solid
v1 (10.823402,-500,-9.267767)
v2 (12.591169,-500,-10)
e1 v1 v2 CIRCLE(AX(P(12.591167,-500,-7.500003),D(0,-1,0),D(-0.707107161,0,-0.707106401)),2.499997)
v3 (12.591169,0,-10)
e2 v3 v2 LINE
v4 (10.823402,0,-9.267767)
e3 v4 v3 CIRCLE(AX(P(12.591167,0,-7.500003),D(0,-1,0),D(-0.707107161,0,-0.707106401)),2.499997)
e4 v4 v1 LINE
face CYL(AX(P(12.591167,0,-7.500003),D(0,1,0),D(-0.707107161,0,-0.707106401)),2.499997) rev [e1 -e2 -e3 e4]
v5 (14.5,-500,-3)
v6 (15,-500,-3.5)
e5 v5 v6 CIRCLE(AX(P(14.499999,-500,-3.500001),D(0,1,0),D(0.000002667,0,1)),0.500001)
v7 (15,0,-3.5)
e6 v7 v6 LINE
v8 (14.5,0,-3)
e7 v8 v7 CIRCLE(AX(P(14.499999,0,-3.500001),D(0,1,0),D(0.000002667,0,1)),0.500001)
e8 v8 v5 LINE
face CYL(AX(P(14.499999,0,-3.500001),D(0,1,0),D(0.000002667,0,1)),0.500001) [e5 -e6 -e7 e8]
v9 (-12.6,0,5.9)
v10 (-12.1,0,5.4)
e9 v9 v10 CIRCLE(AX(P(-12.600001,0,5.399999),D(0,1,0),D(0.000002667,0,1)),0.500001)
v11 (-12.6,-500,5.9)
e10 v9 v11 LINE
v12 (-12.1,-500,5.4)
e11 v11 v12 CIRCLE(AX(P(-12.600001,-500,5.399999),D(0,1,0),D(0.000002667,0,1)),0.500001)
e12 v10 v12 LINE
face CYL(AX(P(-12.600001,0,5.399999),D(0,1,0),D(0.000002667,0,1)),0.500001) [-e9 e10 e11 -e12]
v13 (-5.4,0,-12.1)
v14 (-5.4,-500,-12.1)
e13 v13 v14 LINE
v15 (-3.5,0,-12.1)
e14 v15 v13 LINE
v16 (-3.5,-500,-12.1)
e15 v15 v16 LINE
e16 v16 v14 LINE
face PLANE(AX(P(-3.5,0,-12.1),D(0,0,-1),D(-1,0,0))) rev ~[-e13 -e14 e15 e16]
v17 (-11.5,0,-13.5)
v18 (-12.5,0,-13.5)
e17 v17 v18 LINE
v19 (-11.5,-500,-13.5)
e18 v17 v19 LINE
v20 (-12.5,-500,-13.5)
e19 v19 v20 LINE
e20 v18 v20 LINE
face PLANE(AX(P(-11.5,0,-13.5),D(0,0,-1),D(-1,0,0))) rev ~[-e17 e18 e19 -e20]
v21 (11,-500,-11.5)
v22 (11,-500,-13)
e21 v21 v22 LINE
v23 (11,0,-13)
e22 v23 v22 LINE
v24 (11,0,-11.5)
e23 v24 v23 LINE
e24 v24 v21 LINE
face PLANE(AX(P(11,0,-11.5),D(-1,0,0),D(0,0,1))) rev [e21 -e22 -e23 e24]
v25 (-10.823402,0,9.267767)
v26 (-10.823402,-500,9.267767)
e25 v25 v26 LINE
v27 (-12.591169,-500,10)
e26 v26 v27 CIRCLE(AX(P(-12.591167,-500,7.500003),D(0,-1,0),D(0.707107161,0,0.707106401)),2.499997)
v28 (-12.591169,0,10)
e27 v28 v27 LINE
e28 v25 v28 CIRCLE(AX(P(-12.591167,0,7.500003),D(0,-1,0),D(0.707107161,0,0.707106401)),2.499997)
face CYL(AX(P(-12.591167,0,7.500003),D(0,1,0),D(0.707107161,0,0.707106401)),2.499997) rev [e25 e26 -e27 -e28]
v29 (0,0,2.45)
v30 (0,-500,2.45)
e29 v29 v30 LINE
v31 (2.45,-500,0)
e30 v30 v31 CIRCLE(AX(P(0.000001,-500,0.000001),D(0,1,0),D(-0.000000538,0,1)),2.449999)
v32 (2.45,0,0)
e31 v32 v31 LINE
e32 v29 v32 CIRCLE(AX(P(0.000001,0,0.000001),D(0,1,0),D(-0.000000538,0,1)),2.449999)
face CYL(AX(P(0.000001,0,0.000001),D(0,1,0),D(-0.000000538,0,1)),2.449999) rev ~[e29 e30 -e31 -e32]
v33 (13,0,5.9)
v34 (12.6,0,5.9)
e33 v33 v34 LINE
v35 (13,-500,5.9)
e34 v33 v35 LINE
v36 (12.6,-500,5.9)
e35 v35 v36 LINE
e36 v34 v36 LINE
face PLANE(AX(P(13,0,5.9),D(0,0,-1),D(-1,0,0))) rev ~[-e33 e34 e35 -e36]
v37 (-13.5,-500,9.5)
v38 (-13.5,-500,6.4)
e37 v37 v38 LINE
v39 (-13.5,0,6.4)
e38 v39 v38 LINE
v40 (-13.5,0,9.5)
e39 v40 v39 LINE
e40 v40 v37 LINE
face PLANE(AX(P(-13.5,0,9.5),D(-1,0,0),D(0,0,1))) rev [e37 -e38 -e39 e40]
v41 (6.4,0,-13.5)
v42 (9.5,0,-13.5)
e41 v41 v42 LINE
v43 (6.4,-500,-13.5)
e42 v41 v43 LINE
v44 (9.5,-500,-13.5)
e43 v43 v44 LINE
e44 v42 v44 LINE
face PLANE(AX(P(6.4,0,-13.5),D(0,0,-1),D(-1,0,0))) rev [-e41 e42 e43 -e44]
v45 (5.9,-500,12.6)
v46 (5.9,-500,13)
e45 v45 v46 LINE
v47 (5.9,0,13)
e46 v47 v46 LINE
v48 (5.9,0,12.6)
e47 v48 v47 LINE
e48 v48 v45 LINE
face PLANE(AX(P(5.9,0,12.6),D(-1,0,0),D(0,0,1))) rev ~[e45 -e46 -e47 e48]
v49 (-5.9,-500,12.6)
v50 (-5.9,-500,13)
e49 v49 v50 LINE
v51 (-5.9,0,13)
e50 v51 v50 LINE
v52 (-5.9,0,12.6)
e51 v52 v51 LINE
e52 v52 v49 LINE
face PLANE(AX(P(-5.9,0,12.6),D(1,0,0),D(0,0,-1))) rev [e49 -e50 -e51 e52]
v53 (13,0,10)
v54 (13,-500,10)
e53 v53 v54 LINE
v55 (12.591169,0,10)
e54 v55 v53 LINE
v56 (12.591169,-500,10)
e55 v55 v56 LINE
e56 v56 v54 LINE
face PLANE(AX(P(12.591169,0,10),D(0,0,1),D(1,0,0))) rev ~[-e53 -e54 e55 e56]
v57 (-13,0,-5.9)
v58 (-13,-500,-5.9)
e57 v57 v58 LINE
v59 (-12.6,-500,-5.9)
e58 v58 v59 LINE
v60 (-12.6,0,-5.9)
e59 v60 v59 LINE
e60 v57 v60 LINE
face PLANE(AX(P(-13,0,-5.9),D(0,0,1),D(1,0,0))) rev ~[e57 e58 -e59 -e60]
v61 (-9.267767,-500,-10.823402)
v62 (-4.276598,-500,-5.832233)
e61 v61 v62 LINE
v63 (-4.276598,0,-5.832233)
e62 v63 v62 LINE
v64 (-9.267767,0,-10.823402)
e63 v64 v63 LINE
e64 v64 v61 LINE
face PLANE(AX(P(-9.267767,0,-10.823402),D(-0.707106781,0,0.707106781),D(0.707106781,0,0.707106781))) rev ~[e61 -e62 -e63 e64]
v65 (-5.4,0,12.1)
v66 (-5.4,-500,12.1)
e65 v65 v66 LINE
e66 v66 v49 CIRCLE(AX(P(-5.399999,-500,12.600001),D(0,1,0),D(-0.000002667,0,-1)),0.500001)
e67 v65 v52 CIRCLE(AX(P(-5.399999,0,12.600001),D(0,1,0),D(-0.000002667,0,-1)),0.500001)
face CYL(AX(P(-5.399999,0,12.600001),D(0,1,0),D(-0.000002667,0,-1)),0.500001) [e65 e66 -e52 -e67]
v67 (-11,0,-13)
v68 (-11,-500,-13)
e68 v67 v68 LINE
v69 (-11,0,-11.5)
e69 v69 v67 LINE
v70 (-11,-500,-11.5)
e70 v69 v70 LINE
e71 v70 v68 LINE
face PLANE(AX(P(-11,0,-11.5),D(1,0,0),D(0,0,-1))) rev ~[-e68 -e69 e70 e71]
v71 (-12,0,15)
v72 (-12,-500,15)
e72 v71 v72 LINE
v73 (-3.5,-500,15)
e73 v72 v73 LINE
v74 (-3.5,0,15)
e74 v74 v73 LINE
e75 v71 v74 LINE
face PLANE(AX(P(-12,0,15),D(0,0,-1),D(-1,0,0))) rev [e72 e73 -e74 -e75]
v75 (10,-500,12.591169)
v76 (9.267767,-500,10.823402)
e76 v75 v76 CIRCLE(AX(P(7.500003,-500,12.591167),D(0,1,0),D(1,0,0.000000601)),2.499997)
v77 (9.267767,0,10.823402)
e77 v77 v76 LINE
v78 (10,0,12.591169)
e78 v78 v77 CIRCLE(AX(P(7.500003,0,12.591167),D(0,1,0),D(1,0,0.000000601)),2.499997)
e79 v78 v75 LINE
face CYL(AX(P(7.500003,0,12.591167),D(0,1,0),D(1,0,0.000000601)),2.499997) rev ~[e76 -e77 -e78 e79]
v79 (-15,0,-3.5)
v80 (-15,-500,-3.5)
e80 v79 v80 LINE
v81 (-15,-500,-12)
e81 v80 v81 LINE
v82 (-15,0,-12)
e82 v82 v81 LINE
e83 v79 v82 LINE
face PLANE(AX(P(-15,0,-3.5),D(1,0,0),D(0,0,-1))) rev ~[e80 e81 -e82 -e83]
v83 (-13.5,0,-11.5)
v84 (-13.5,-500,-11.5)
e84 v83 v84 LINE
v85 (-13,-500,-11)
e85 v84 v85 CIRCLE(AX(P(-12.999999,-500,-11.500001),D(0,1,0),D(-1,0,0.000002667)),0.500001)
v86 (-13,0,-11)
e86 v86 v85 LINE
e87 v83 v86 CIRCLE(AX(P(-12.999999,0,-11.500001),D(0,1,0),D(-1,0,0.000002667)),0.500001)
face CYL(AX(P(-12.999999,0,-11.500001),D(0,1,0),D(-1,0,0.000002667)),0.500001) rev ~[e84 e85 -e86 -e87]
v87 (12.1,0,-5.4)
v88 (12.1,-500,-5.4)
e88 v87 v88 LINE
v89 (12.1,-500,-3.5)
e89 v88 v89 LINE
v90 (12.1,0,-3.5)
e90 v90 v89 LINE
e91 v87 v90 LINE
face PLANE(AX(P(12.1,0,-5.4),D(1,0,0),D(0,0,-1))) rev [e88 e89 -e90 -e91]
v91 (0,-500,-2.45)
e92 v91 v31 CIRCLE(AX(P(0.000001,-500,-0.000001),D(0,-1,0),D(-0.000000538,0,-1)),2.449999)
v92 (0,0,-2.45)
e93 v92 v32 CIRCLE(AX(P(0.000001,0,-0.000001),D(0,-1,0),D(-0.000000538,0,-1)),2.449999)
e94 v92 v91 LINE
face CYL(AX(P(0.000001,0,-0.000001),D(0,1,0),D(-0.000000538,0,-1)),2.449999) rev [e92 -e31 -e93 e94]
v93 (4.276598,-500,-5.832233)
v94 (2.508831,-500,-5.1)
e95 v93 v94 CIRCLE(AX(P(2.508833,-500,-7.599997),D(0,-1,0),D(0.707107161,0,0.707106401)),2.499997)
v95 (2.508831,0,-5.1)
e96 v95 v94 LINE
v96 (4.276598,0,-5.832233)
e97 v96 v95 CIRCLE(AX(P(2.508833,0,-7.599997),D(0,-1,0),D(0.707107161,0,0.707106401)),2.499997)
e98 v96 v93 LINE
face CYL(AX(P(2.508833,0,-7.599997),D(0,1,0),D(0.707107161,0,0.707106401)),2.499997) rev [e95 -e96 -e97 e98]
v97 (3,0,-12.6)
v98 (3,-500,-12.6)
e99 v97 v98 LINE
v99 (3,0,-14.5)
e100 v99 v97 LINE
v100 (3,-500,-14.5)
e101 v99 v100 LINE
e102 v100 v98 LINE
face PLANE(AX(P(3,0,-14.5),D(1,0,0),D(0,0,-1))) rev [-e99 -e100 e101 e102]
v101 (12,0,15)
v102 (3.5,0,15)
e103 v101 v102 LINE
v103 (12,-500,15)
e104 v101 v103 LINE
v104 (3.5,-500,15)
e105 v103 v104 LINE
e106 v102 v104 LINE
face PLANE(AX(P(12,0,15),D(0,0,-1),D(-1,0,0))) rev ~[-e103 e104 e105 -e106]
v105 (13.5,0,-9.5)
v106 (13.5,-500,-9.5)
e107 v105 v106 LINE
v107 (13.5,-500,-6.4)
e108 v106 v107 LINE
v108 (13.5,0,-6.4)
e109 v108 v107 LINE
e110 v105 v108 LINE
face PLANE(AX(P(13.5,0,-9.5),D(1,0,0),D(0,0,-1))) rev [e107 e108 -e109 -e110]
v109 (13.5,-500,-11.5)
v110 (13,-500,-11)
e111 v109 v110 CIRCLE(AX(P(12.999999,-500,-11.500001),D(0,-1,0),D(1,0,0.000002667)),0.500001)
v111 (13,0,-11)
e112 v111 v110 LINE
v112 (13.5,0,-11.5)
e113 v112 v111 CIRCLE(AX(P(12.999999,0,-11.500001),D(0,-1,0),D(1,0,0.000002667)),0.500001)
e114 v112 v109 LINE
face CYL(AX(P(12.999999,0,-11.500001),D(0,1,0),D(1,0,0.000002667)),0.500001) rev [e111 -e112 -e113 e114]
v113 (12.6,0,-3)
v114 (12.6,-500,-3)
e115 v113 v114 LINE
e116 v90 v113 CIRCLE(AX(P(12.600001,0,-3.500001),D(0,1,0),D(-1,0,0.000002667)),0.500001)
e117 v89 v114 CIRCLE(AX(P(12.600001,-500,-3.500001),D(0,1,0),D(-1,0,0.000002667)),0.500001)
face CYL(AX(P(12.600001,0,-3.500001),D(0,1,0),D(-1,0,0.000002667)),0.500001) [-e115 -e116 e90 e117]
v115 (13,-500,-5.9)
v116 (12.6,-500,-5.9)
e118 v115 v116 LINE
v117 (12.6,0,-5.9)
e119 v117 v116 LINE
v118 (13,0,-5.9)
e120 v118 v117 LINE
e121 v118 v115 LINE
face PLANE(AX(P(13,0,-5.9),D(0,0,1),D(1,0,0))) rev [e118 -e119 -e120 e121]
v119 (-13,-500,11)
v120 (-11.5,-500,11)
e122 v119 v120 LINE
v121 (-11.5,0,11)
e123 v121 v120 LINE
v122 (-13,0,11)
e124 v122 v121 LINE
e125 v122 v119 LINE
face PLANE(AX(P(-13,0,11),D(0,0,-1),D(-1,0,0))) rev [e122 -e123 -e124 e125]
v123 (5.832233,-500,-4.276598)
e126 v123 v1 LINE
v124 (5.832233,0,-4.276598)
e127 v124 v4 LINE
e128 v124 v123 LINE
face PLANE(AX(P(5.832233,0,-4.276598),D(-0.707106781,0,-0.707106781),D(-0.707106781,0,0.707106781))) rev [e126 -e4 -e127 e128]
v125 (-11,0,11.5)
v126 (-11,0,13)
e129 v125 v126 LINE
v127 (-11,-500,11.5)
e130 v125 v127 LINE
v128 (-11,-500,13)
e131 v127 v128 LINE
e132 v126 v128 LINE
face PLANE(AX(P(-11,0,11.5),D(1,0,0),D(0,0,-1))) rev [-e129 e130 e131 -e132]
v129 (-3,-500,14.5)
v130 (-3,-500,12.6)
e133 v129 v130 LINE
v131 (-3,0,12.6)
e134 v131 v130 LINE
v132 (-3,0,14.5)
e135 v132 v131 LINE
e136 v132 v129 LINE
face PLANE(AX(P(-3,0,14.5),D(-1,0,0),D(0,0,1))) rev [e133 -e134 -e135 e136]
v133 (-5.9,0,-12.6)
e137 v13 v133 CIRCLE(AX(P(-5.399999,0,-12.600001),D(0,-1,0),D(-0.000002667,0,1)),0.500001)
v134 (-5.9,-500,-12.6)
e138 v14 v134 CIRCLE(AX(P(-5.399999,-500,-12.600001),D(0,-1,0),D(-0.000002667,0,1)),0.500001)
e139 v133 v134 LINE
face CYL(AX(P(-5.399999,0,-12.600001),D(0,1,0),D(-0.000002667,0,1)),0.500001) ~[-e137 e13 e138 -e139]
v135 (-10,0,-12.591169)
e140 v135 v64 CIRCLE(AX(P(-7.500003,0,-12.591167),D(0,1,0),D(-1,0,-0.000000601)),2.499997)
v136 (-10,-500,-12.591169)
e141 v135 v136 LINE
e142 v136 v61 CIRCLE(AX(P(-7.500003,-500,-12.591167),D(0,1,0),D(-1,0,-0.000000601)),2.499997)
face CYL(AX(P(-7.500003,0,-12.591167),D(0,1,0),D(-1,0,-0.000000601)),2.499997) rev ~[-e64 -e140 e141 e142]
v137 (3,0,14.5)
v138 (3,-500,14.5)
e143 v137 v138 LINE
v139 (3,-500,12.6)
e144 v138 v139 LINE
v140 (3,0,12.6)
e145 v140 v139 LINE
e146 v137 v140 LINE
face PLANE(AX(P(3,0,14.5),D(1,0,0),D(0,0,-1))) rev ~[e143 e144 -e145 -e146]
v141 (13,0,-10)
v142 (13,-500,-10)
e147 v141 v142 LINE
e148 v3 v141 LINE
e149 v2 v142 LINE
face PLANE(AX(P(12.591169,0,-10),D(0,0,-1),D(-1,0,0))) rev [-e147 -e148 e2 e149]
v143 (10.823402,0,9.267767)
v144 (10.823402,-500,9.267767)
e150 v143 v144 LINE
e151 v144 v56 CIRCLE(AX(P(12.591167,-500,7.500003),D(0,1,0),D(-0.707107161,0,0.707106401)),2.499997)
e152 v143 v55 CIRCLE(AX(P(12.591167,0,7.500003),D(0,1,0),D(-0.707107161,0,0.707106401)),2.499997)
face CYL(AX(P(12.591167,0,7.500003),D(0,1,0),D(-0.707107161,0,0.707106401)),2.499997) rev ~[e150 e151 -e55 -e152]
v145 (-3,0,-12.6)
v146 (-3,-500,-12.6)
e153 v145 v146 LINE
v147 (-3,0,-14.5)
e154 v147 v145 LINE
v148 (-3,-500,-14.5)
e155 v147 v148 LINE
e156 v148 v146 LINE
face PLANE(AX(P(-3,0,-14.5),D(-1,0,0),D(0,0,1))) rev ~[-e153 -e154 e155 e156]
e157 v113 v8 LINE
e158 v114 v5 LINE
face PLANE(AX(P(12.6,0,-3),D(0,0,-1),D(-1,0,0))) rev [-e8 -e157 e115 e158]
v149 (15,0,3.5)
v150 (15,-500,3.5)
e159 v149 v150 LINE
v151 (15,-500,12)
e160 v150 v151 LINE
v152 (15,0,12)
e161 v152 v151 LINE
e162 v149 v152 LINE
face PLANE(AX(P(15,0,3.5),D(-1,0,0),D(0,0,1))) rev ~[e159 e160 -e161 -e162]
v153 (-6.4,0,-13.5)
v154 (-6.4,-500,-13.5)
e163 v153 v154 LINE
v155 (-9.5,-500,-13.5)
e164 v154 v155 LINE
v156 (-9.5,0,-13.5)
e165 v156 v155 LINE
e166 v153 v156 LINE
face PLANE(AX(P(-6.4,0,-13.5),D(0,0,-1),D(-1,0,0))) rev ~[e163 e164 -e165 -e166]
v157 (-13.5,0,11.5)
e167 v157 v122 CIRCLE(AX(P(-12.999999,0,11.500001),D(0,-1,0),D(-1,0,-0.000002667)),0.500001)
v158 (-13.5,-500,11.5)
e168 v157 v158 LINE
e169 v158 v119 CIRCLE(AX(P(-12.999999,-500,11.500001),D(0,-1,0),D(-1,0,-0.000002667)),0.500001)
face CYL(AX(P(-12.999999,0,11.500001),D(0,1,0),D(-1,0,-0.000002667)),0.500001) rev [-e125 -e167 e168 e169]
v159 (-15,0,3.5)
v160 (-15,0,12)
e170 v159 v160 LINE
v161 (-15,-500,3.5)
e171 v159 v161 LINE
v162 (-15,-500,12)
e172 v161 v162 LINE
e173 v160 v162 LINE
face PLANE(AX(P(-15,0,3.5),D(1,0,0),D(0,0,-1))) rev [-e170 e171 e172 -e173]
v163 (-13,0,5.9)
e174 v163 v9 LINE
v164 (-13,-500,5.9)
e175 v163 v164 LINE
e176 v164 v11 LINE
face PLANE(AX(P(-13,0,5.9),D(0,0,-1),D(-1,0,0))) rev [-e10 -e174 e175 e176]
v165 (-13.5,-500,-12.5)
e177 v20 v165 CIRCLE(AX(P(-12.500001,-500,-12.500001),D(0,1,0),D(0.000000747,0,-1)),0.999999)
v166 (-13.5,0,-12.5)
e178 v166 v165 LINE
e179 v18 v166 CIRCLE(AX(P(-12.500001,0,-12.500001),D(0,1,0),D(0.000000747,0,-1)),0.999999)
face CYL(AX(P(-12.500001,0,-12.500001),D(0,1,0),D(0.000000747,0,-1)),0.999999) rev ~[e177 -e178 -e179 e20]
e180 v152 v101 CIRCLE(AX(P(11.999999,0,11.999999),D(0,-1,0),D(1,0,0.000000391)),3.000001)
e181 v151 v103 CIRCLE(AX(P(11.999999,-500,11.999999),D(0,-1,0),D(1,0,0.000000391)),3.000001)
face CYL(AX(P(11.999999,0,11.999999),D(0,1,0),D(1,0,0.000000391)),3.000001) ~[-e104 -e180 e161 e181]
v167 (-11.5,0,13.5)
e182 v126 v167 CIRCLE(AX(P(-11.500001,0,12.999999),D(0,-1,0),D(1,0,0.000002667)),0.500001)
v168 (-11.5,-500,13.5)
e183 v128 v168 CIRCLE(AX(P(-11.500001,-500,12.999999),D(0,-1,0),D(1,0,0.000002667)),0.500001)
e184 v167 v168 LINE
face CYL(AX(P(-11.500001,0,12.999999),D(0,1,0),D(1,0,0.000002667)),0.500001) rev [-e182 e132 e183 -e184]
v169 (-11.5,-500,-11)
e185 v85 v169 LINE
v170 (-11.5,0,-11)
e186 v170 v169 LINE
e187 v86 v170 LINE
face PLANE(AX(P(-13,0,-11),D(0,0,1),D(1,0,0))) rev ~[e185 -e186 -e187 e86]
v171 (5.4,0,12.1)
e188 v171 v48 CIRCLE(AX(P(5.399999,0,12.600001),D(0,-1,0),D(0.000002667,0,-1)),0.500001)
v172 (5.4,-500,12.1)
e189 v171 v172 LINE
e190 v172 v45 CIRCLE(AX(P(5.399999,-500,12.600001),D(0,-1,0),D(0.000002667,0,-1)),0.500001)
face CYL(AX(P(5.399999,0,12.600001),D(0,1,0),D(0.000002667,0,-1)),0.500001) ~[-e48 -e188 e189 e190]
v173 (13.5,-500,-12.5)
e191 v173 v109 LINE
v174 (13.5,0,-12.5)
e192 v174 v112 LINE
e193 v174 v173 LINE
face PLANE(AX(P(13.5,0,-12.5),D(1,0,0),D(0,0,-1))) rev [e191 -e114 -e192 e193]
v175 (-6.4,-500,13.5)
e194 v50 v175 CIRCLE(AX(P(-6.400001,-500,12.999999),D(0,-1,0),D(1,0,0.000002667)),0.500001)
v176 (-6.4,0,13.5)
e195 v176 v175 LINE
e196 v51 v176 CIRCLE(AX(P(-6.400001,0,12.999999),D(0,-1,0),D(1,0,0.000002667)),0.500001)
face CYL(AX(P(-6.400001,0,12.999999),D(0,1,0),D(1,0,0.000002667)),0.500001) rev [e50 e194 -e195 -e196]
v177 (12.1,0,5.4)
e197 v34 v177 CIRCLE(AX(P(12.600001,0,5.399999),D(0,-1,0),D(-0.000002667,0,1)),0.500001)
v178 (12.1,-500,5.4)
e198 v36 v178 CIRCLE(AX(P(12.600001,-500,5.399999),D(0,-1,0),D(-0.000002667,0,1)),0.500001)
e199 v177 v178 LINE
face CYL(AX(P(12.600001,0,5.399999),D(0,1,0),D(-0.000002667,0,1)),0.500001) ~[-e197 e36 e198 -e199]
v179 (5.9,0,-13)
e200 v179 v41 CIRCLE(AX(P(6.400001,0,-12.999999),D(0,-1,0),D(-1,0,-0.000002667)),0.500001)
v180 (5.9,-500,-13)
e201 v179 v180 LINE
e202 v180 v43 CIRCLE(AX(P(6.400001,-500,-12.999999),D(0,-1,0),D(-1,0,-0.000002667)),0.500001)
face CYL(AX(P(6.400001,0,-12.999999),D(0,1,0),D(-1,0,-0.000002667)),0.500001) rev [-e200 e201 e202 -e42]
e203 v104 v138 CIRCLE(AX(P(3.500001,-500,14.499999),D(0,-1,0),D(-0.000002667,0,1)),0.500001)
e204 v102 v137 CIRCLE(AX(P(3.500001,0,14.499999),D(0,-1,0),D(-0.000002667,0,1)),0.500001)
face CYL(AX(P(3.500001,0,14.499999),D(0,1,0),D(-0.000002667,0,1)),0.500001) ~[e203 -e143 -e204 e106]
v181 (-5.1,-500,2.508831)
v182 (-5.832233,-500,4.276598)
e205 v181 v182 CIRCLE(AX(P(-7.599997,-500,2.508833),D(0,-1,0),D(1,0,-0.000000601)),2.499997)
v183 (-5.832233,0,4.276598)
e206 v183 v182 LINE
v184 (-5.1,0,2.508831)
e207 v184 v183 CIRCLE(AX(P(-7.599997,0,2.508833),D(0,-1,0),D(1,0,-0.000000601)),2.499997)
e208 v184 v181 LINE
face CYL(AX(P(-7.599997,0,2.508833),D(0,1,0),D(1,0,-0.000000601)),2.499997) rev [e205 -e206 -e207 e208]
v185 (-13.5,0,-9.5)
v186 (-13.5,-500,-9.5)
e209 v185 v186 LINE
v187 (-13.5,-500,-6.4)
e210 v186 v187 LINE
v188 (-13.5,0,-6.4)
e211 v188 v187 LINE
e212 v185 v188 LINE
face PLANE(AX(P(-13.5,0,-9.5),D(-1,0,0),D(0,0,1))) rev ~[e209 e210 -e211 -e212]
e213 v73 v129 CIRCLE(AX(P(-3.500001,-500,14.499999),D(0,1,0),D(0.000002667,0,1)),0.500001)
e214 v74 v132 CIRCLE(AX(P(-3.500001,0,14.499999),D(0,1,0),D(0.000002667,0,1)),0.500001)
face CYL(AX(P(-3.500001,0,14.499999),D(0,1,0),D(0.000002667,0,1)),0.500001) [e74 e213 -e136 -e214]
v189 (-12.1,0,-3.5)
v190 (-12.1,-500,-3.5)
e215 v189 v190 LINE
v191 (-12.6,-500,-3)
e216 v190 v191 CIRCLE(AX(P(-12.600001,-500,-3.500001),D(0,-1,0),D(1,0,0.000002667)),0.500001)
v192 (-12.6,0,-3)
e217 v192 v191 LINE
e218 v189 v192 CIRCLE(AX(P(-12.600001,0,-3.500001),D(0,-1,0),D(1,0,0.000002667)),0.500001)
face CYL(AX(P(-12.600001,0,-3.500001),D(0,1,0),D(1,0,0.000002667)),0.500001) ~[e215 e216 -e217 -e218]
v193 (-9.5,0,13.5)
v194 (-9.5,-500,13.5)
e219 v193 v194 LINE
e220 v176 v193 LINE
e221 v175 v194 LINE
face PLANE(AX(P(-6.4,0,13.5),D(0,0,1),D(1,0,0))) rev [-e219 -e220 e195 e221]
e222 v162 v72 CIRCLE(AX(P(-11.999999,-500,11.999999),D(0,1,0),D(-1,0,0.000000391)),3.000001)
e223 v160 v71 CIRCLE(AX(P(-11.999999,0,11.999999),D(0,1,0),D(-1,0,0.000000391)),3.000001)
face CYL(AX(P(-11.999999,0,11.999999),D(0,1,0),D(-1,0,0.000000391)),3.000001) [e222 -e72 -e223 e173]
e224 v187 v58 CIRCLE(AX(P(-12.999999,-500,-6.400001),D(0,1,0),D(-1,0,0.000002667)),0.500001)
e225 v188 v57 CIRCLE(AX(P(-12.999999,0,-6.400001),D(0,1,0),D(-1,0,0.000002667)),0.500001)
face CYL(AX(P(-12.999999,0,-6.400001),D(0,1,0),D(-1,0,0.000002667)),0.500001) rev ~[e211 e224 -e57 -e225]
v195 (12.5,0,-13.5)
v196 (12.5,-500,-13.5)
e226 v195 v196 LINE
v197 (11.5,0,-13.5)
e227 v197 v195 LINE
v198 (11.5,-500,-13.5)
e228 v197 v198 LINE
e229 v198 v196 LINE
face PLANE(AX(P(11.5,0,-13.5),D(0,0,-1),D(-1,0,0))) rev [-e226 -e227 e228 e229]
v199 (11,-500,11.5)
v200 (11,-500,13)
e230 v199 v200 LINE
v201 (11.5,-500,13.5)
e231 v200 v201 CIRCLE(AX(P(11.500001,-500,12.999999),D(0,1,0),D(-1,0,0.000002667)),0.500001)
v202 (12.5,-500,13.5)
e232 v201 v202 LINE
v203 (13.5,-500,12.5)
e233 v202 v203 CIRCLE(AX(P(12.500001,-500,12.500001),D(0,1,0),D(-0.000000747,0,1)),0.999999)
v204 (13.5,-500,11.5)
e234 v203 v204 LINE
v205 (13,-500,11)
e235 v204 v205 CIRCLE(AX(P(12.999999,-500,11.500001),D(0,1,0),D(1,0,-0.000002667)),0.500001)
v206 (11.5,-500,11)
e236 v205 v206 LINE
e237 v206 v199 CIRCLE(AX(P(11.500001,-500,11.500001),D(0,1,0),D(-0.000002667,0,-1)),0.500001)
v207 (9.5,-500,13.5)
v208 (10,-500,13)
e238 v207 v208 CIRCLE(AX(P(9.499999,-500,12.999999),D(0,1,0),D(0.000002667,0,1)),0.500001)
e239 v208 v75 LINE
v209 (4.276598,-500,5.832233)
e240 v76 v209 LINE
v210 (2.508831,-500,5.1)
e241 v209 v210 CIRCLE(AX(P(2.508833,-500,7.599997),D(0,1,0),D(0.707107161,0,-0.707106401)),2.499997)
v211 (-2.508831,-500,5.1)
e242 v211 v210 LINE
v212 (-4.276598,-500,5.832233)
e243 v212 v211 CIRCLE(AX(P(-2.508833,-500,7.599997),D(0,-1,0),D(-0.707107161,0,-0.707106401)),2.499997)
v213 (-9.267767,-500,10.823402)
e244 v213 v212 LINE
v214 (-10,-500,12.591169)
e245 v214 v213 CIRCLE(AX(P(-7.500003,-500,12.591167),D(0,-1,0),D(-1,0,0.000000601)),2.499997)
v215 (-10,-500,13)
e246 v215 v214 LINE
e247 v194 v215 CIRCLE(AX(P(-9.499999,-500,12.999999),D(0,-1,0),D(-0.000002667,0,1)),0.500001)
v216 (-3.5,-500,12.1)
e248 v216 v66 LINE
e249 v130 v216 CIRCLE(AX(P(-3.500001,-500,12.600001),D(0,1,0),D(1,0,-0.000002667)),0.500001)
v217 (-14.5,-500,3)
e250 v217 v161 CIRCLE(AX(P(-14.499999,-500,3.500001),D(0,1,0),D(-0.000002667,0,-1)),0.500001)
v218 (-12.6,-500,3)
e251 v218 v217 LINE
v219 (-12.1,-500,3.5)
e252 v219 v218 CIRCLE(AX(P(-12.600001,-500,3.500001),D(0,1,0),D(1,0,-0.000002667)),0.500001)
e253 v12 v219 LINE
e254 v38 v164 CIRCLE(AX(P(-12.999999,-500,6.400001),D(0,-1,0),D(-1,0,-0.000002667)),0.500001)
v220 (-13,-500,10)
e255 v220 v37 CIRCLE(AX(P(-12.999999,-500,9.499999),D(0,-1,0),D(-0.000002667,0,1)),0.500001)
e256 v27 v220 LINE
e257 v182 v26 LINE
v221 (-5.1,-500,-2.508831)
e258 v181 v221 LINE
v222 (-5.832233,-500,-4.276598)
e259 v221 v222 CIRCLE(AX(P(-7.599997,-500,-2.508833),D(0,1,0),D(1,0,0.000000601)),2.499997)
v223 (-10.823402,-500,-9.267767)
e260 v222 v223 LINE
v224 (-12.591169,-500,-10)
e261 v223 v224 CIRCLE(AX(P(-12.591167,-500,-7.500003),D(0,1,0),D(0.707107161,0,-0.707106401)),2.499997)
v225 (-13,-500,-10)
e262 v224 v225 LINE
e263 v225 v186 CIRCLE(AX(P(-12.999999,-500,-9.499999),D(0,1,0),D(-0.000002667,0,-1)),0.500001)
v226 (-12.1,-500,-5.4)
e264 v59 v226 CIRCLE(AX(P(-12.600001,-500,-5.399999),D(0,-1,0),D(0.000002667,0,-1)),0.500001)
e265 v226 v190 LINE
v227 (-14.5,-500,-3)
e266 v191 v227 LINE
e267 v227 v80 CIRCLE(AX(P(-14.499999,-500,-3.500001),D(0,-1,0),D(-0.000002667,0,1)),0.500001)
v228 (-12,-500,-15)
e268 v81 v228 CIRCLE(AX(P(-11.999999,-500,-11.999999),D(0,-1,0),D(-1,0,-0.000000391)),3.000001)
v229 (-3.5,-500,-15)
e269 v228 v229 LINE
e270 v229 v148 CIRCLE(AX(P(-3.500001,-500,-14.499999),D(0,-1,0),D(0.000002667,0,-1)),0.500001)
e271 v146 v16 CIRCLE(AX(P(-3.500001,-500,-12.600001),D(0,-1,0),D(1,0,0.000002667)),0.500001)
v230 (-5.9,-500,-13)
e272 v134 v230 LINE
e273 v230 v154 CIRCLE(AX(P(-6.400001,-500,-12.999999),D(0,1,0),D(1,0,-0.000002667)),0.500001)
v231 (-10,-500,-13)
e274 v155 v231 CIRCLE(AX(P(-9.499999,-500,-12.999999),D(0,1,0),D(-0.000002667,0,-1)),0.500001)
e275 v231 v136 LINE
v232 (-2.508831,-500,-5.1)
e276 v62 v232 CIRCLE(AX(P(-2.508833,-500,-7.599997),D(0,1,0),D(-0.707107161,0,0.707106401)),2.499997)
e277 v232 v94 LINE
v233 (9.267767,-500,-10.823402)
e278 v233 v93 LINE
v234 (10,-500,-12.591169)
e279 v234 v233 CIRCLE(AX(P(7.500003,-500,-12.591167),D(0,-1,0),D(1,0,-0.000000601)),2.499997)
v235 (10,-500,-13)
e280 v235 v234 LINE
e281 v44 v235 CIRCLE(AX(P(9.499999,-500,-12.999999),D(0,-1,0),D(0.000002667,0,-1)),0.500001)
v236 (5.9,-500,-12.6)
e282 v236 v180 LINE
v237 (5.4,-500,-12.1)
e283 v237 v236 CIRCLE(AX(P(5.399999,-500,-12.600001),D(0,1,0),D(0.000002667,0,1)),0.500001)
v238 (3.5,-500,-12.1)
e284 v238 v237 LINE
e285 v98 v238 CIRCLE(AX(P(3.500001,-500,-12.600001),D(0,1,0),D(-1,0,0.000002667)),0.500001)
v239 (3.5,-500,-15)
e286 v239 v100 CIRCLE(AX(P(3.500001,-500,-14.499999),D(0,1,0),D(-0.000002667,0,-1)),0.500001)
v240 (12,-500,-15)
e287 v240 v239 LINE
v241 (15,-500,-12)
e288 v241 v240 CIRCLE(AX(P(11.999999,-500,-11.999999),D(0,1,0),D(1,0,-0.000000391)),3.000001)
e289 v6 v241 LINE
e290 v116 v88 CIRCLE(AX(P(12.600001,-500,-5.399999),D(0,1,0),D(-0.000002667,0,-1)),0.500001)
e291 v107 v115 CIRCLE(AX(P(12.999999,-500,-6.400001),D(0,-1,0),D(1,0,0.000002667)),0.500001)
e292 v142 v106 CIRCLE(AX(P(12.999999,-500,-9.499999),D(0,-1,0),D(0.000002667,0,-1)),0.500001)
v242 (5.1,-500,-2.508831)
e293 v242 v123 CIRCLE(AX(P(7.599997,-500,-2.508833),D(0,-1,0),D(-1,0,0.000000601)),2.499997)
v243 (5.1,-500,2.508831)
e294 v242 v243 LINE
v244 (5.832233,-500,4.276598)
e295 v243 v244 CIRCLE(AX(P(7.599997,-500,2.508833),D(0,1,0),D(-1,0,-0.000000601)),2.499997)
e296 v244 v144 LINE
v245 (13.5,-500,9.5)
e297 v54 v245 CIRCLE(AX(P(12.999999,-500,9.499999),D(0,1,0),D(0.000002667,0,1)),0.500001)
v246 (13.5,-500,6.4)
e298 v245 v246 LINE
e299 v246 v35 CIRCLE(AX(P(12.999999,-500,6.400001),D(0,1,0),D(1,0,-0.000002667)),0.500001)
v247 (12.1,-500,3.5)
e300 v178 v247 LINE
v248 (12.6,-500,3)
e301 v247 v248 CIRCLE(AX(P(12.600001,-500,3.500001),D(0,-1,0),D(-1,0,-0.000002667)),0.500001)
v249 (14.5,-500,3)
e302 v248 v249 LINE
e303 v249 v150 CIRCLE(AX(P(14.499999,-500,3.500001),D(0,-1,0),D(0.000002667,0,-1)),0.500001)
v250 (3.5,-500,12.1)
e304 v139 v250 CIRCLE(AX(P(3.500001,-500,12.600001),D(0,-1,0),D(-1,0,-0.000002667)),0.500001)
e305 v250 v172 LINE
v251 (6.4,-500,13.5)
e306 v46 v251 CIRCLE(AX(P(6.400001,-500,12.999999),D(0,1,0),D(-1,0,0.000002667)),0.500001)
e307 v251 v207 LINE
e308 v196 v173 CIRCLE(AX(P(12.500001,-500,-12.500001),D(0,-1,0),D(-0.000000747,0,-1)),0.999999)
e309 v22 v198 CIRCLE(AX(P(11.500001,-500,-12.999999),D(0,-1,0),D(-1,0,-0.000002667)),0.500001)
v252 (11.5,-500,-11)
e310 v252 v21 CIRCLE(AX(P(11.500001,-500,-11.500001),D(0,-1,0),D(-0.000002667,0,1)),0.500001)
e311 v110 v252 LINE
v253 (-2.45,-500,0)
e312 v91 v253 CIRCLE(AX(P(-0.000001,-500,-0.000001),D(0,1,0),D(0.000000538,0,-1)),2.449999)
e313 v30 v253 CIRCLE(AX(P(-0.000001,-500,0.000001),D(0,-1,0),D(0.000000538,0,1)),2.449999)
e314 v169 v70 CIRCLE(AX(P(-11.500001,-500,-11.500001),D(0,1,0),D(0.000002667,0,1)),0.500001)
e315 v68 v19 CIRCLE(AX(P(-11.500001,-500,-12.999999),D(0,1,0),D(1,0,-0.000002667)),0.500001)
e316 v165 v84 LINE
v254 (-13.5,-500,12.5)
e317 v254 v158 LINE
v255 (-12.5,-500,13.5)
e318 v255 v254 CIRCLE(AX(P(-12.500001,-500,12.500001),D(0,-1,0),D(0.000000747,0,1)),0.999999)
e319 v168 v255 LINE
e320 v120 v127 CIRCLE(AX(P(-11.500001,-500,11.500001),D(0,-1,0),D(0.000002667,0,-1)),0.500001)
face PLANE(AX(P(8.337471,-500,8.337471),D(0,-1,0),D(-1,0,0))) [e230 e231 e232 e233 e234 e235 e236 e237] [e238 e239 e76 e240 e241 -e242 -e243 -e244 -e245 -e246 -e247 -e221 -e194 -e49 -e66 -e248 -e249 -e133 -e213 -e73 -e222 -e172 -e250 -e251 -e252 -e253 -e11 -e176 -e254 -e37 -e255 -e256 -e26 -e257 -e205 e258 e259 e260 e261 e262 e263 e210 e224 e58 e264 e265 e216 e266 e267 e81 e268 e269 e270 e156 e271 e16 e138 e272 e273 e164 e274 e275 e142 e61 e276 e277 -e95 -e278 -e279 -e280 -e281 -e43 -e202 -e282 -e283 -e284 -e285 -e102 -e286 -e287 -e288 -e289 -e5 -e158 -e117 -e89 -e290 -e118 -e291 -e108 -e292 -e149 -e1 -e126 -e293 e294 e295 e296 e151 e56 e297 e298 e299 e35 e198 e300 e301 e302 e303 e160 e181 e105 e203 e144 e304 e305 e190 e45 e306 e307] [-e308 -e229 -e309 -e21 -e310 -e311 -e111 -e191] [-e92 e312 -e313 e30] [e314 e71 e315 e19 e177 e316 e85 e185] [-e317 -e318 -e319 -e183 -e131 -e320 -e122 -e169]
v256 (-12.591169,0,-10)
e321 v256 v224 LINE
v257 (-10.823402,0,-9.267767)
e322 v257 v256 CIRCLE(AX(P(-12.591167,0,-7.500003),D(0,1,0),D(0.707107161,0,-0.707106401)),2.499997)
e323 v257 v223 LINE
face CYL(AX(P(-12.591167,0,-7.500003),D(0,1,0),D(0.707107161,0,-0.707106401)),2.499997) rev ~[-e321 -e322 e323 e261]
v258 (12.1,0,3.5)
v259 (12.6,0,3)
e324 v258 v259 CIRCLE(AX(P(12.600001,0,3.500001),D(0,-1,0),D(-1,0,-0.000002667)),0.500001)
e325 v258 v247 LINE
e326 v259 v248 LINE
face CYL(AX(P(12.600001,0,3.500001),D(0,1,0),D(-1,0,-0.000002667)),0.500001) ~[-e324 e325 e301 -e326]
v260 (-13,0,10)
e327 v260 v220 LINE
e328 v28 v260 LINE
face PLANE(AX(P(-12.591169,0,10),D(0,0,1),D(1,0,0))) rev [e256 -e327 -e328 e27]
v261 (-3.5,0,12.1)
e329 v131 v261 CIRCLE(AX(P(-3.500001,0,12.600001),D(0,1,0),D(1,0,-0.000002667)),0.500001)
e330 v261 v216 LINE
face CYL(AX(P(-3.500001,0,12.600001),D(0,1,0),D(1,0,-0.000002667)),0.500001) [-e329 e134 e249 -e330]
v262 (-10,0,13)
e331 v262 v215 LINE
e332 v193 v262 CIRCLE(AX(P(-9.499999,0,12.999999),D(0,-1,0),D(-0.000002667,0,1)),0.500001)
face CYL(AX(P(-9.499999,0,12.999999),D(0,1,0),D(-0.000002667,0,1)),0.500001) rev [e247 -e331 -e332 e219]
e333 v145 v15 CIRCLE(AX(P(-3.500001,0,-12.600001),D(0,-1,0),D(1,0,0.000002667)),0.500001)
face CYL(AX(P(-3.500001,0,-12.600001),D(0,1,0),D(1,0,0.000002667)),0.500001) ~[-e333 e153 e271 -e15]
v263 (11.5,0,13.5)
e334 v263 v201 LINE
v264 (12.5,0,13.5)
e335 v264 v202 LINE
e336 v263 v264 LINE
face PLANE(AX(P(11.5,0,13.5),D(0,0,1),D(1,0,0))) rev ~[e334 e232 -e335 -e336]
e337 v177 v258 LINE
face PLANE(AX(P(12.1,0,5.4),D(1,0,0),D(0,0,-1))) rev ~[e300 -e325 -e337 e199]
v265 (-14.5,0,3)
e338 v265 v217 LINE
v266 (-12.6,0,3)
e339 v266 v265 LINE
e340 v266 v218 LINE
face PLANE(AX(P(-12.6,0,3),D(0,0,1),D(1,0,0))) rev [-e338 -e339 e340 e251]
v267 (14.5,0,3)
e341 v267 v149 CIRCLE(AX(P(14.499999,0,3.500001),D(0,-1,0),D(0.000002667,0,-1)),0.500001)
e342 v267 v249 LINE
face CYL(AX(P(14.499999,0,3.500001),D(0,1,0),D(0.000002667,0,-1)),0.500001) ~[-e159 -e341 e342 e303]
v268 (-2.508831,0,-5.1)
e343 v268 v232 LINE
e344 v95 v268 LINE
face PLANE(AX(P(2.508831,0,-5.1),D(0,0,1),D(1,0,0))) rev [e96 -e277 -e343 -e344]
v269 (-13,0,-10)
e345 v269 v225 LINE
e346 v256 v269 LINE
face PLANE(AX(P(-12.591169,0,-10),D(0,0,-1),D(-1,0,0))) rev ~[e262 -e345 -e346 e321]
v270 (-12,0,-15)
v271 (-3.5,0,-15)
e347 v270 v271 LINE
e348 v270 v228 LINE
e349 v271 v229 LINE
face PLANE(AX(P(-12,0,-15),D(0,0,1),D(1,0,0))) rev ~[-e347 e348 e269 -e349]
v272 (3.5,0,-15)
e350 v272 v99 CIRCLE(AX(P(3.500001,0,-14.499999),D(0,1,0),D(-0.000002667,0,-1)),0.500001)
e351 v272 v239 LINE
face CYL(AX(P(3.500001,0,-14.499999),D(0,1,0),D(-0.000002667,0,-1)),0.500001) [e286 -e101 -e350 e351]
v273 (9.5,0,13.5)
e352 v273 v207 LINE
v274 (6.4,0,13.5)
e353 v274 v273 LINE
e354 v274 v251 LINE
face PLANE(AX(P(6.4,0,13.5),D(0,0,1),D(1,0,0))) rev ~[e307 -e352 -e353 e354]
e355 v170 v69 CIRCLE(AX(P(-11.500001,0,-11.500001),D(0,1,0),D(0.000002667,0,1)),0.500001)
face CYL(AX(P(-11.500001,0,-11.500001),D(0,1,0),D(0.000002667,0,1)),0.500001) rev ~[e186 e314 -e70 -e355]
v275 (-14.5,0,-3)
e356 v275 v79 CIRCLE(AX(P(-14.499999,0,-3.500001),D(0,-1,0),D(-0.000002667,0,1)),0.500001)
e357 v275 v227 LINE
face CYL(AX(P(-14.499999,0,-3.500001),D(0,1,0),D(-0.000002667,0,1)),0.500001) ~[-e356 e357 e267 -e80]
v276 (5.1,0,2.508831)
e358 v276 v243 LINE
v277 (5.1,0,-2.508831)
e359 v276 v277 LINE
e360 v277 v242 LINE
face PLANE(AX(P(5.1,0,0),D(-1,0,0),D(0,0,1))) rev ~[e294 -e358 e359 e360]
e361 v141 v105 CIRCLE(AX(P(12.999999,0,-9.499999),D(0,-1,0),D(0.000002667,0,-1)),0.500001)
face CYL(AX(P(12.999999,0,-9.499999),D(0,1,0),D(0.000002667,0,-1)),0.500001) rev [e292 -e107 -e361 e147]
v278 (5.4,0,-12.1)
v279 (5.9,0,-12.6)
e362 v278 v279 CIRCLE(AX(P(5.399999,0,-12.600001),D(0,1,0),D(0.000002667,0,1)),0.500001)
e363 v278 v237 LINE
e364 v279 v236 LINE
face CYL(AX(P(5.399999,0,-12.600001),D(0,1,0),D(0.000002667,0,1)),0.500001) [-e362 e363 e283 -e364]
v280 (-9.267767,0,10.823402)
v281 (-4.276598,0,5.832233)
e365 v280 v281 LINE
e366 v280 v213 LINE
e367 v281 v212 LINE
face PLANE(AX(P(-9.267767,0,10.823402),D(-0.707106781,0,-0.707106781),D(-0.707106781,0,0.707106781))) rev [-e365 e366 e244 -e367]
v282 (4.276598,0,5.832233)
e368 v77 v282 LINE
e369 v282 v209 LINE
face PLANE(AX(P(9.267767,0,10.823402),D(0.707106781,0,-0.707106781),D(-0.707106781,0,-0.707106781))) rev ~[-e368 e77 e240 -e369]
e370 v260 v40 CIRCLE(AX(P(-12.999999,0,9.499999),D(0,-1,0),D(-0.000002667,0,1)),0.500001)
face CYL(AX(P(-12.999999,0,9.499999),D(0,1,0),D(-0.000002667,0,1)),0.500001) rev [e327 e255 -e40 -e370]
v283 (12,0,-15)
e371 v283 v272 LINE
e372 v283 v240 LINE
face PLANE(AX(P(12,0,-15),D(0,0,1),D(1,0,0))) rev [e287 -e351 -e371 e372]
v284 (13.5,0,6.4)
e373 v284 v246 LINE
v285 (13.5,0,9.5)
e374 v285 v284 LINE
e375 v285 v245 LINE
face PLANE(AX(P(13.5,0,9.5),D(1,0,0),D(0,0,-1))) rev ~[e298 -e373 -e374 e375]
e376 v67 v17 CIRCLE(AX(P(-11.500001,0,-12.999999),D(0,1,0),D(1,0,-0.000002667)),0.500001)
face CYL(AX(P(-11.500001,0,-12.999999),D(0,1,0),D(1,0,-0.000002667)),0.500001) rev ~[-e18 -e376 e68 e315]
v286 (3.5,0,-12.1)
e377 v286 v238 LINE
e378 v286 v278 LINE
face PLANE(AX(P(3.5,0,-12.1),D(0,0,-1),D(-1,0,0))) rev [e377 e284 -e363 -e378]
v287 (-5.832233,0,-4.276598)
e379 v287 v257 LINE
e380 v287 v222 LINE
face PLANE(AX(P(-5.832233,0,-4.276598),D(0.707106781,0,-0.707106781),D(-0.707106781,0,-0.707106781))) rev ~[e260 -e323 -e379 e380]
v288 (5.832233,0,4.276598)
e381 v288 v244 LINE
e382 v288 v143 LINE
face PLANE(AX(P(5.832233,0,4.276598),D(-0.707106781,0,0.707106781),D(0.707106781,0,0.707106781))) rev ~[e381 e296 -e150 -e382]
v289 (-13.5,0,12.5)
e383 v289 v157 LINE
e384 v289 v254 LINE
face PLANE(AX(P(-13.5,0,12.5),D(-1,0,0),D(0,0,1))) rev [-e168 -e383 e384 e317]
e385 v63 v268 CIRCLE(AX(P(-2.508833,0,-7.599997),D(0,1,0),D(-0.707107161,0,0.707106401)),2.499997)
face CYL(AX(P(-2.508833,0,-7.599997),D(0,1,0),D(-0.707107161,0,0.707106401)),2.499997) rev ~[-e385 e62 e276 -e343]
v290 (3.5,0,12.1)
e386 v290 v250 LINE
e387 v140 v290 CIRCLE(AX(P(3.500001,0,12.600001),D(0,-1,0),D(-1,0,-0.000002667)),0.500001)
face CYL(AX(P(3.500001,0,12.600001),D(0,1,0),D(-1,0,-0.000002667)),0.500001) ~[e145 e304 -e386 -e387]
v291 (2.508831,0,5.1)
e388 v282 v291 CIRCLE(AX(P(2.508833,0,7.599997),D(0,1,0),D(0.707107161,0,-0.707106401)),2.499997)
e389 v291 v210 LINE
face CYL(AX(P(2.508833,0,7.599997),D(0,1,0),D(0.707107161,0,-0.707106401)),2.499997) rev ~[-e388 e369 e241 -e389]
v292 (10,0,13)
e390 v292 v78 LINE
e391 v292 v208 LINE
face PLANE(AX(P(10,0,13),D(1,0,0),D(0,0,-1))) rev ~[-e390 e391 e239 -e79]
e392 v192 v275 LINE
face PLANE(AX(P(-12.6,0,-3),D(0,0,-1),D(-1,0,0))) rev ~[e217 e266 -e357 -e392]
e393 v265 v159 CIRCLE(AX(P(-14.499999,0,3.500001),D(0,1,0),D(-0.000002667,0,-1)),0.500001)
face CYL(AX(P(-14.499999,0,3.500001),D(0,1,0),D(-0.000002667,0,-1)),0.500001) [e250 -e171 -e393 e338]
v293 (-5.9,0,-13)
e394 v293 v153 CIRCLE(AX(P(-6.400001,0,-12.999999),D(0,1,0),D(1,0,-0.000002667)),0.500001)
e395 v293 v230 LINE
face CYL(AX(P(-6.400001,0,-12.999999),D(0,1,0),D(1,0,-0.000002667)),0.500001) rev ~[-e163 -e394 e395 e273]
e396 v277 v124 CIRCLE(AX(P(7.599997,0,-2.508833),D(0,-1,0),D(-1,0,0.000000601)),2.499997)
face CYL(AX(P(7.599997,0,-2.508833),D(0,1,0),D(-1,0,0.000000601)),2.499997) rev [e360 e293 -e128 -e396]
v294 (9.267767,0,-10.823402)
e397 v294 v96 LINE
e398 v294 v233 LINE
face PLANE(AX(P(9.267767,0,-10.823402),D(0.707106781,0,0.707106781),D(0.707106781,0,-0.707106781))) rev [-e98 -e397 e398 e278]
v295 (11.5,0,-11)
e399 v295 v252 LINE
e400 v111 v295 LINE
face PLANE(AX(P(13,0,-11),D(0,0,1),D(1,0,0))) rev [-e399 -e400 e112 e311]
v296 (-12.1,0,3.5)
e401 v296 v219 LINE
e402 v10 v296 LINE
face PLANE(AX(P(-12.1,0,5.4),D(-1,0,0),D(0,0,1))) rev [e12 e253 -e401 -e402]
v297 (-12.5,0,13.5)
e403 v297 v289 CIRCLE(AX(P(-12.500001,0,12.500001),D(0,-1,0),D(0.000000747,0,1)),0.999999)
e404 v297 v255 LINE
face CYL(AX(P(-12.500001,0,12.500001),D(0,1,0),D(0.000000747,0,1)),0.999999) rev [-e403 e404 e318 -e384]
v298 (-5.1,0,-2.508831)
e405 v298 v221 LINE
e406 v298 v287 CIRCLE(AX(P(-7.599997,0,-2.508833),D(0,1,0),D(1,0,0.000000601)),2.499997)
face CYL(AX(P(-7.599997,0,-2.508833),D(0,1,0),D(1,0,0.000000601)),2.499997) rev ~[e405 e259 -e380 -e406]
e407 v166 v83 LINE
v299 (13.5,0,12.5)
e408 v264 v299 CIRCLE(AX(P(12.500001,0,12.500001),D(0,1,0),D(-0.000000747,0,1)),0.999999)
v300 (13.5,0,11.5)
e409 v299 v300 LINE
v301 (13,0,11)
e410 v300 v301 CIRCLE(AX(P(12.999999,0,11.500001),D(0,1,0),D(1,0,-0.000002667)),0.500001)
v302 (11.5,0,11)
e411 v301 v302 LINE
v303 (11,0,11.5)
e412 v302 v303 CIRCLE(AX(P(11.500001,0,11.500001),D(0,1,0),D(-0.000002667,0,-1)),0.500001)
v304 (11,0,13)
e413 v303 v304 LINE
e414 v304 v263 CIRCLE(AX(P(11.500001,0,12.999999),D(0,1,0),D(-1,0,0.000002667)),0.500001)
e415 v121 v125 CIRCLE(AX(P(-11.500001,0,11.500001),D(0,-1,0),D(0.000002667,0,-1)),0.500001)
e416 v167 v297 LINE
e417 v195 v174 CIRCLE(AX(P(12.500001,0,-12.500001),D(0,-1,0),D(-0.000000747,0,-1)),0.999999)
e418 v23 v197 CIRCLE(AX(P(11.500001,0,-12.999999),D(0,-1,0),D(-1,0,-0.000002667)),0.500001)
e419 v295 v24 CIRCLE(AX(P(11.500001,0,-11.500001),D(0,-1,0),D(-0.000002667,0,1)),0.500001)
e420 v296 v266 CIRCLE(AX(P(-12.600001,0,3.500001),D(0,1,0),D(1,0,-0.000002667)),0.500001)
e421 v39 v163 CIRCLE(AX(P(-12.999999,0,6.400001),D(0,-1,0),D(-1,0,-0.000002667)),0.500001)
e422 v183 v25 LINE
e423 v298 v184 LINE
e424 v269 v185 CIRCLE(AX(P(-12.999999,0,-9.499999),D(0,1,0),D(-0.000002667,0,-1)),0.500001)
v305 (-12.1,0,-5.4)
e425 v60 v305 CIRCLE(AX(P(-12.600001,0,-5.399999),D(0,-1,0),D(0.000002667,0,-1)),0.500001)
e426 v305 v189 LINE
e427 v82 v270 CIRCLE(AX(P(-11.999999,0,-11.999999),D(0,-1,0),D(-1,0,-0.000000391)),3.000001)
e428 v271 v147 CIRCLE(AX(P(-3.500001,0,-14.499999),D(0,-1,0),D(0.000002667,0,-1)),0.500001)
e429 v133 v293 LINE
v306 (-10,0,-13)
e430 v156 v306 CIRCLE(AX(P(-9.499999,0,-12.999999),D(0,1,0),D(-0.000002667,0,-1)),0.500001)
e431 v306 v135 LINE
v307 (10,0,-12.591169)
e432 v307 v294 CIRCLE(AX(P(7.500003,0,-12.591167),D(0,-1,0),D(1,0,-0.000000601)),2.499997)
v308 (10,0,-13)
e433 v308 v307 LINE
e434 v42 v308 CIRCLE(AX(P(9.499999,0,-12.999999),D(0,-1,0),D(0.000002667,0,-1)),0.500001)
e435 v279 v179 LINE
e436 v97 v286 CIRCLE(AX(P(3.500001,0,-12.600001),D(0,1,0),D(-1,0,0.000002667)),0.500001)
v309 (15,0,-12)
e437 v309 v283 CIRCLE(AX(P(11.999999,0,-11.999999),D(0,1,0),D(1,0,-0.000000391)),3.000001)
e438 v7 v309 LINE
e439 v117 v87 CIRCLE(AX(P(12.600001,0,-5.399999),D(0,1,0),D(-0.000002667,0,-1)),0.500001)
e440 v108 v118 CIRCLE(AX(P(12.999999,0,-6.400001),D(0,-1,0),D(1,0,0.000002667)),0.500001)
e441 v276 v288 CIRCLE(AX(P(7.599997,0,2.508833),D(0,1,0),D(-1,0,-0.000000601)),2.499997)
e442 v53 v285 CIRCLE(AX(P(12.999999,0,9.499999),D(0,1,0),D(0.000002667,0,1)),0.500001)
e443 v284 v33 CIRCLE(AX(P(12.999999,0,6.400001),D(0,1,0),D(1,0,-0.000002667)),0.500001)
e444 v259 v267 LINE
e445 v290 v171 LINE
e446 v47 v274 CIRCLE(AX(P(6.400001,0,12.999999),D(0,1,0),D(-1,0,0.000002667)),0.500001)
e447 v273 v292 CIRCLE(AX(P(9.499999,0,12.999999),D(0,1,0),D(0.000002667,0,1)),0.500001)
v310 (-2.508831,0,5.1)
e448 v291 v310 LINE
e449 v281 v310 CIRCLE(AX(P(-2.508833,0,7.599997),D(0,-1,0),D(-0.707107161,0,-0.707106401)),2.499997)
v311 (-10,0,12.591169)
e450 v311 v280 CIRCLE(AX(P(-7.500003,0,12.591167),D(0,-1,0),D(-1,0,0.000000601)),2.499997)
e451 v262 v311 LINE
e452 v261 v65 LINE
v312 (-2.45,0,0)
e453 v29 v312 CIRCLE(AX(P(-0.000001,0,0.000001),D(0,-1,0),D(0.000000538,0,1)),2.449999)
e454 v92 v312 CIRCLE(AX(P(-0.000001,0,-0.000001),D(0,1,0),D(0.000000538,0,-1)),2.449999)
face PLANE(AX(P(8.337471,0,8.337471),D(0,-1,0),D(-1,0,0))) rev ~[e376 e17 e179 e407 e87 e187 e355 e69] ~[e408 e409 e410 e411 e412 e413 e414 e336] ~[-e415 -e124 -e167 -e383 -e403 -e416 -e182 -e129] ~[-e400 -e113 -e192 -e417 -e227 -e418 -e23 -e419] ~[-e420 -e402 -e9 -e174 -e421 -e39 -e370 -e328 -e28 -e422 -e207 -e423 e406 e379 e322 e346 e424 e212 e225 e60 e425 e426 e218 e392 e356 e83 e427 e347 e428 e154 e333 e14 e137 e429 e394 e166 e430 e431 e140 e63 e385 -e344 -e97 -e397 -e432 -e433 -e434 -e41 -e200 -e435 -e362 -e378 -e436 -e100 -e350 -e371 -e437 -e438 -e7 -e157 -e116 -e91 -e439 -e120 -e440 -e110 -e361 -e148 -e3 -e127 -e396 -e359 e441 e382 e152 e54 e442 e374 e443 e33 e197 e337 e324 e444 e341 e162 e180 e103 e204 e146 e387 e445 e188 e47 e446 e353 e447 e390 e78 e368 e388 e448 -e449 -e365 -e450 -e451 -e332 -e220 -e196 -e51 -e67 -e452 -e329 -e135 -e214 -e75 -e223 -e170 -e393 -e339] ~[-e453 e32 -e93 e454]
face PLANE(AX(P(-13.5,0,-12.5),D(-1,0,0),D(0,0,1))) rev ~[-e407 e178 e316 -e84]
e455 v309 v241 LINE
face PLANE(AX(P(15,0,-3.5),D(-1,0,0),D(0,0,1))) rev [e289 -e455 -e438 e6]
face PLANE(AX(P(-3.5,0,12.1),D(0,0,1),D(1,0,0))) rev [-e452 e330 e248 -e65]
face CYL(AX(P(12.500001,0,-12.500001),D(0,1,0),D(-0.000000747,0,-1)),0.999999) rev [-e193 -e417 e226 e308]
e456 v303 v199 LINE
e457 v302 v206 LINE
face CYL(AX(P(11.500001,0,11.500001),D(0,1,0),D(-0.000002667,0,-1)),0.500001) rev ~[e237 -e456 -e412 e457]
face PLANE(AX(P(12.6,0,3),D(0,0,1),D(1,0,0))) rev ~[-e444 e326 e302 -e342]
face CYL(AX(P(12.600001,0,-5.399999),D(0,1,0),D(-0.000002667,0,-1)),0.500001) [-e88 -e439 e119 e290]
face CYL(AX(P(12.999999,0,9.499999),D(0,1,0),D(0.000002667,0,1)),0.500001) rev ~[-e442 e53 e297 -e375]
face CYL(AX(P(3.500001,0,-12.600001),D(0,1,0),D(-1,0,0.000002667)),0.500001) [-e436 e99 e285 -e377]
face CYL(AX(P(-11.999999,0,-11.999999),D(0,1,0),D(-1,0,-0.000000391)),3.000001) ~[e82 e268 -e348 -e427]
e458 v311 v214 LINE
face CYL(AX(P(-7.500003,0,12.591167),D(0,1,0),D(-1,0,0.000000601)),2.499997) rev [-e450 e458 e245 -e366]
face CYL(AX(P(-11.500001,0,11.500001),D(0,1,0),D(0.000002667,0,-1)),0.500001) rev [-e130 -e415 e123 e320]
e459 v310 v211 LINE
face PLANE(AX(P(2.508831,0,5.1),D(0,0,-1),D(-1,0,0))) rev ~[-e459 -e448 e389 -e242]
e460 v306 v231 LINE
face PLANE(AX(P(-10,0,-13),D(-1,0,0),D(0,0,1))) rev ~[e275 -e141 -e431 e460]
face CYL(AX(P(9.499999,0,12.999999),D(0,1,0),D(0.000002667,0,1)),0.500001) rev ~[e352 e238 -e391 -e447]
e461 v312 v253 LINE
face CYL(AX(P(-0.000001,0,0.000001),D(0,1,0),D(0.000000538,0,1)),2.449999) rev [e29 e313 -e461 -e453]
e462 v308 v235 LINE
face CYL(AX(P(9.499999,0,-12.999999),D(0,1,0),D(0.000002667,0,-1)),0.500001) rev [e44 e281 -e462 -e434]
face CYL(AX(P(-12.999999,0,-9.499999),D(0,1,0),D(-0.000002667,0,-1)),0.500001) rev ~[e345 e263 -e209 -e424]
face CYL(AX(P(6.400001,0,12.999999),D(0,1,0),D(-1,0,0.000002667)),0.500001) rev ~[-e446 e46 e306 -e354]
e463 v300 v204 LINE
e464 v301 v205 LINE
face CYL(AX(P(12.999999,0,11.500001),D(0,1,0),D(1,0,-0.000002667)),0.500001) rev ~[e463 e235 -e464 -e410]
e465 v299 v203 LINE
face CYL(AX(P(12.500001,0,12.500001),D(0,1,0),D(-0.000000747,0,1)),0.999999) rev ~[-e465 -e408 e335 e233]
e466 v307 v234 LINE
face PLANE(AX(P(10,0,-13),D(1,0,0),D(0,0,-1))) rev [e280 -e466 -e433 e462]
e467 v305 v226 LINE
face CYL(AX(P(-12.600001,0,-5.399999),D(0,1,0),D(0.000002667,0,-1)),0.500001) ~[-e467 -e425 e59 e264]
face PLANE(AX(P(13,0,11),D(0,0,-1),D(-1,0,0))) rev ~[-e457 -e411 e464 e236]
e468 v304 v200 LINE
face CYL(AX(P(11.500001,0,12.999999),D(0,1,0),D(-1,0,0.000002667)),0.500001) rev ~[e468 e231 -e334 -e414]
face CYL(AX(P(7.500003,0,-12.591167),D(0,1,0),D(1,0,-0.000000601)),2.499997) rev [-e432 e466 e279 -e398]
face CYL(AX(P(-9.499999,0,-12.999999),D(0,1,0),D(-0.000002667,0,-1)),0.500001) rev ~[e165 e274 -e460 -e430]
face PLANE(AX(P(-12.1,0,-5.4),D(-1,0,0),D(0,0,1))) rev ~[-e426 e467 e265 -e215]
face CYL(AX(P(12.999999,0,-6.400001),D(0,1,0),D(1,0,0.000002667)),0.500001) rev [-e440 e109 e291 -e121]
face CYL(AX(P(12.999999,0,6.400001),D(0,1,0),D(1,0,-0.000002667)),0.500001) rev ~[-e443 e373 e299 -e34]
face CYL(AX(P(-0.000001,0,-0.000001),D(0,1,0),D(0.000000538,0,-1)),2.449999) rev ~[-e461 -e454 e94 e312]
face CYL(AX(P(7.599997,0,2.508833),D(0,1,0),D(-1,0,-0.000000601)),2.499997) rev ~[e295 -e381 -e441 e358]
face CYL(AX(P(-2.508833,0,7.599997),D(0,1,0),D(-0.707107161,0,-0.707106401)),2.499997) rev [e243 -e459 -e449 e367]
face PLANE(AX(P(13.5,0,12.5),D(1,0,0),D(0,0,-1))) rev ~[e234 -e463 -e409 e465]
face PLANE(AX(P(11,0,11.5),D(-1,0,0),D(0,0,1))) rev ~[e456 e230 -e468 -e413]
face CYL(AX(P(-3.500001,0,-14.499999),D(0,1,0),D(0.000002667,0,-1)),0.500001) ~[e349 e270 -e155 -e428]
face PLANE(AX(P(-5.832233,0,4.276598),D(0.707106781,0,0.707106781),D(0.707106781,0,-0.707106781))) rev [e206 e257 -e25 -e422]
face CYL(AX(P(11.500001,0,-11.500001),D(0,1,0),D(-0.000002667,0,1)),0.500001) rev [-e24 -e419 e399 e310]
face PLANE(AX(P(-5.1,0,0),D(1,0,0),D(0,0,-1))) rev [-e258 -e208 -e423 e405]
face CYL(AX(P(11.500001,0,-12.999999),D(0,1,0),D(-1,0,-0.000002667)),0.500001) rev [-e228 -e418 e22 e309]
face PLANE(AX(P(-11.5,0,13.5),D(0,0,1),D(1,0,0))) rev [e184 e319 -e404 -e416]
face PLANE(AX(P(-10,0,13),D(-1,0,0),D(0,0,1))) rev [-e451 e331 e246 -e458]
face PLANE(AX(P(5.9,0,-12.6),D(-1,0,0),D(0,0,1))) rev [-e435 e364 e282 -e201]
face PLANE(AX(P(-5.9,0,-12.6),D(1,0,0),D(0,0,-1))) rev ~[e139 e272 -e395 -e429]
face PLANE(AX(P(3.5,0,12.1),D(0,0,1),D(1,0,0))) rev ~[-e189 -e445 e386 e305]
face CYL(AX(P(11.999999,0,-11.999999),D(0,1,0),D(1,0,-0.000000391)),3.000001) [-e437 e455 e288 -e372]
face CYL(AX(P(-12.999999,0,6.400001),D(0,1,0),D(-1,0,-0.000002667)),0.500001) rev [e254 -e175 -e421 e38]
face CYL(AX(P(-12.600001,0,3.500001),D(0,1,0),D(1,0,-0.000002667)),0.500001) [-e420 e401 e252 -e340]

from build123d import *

# Parameters (mm, degrees)
F1_DEPTH = 500


with BuildPart() as f1:
    # F0 (on Front) → F1 (new body)
    with BuildSketch(Plane.XZ):
        with BuildLine():
            ThreePointArc((0, -2.45), (-1.732412, -1.732412), (-2.45, 0))
            Line((-2.45, 0), (-5.1, 0))
            Line((-5.1, 0), (-5.1, -2.508831))
            ThreePointArc((-5.1, -2.508831), (-5.290301, -3.46554), (-5.832233, -4.276598))
            Line((-5.832233, -4.276598), (-10.823402, -9.267767))
            ThreePointArc((-10.823402, -9.267767), (-11.63446, -9.809699), (-12.591169, -10))
            Line((-12.591169, -10), (-13, -10))
            ThreePointArc((-13, -10), (-13.353553, -9.853553), (-13.5, -9.5))
            Line((-13.5, -9.5), (-13.5, -6.4))
            ThreePointArc((-13.5, -6.4), (-13.353553, -6.046447), (-13, -5.9))
            Line((-13, -5.9), (-12.6, -5.9))
            ThreePointArc((-12.6, -5.9), (-12.246447, -5.753553), (-12.1, -5.4))
            Line((-12.1, -5.4), (-12.1, -3.5))
            ThreePointArc((-12.1, -3.5), (-12.246447, -3.146447), (-12.6, -3))
            Line((-12.6, -3), (-14.5, -3))
            ThreePointArc((-14.5, -3), (-14.853553, -3.146447), (-15, -3.5))
            Line((-15, -3.5), (-15, -12))
            ThreePointArc((-15, -12), (-14.12132, -14.12132), (-12, -15))
            Line((-12, -15), (-3.5, -15))
            ThreePointArc((-3.5, -15), (-3.146447, -14.853553), (-3, -14.5))
            Line((-3, -14.5), (-3, -12.6))
            ThreePointArc((-3, -12.6), (-3.146447, -12.246447), (-3.5, -12.1))
            Line((-3.5, -12.1), (-5.4, -12.1))
            ThreePointArc((-5.4, -12.1), (-5.753553, -12.246447), (-5.9, -12.6))
            Line((-5.9, -12.6), (-5.9, -13))
            ThreePointArc((-5.9, -13), (-6.046447, -13.353553), (-6.4, -13.5))
            Line((-6.4, -13.5), (-9.5, -13.5))
            ThreePointArc((-9.5, -13.5), (-9.853553, -13.353553), (-10, -13))
            Line((-10, -13), (-10, -12.591169))
            ThreePointArc((-10, -12.591169), (-9.809699, -11.63446), (-9.267767, -10.823402))
            Line((-9.267767, -10.823402), (-4.276598, -5.832233))
            ThreePointArc((-4.276598, -5.832233), (-3.46554, -5.290301), (-2.508831, -5.1))
            Line((-2.508831, -5.1), (0, -5.1))
            Line((0, -5.1), (0, -2.45))
        make_face()
        with BuildLine():
            Line((-11.5, -13.5), (-12.5, -13.5))
            ThreePointArc((-12.5, -13.5), (-13.207107, -13.207107), (-13.5, -12.5))
            Line((-13.5, -12.5), (-13.5, -11.5))
            ThreePointArc((-13.5, -11.5), (-13.353553, -11.146447), (-13, -11))
            Line((-13, -11), (-11.5, -11))
            ThreePointArc((-11.5, -11), (-11.146447, -11.146447), (-11, -11.5))
            Line((-11, -11.5), (-11, -13))
            ThreePointArc((-11, -13), (-11.146447, -13.353553), (-11.5, -13.5))
        make_face(mode=Mode.SUBTRACT)
    extrude(amount=F1_DEPTH)

    # F2: F1 across plane


with BuildPart() as f1_1:
    add(f1.part)
    add(f1.part.mirror(Plane.YZ))

    # F3: F1 across plane


with BuildPart() as f1_2:
    add(f1_1.part)
    add(f1_1.part.mirror(Plane.XY))


solid = f1_2.part
